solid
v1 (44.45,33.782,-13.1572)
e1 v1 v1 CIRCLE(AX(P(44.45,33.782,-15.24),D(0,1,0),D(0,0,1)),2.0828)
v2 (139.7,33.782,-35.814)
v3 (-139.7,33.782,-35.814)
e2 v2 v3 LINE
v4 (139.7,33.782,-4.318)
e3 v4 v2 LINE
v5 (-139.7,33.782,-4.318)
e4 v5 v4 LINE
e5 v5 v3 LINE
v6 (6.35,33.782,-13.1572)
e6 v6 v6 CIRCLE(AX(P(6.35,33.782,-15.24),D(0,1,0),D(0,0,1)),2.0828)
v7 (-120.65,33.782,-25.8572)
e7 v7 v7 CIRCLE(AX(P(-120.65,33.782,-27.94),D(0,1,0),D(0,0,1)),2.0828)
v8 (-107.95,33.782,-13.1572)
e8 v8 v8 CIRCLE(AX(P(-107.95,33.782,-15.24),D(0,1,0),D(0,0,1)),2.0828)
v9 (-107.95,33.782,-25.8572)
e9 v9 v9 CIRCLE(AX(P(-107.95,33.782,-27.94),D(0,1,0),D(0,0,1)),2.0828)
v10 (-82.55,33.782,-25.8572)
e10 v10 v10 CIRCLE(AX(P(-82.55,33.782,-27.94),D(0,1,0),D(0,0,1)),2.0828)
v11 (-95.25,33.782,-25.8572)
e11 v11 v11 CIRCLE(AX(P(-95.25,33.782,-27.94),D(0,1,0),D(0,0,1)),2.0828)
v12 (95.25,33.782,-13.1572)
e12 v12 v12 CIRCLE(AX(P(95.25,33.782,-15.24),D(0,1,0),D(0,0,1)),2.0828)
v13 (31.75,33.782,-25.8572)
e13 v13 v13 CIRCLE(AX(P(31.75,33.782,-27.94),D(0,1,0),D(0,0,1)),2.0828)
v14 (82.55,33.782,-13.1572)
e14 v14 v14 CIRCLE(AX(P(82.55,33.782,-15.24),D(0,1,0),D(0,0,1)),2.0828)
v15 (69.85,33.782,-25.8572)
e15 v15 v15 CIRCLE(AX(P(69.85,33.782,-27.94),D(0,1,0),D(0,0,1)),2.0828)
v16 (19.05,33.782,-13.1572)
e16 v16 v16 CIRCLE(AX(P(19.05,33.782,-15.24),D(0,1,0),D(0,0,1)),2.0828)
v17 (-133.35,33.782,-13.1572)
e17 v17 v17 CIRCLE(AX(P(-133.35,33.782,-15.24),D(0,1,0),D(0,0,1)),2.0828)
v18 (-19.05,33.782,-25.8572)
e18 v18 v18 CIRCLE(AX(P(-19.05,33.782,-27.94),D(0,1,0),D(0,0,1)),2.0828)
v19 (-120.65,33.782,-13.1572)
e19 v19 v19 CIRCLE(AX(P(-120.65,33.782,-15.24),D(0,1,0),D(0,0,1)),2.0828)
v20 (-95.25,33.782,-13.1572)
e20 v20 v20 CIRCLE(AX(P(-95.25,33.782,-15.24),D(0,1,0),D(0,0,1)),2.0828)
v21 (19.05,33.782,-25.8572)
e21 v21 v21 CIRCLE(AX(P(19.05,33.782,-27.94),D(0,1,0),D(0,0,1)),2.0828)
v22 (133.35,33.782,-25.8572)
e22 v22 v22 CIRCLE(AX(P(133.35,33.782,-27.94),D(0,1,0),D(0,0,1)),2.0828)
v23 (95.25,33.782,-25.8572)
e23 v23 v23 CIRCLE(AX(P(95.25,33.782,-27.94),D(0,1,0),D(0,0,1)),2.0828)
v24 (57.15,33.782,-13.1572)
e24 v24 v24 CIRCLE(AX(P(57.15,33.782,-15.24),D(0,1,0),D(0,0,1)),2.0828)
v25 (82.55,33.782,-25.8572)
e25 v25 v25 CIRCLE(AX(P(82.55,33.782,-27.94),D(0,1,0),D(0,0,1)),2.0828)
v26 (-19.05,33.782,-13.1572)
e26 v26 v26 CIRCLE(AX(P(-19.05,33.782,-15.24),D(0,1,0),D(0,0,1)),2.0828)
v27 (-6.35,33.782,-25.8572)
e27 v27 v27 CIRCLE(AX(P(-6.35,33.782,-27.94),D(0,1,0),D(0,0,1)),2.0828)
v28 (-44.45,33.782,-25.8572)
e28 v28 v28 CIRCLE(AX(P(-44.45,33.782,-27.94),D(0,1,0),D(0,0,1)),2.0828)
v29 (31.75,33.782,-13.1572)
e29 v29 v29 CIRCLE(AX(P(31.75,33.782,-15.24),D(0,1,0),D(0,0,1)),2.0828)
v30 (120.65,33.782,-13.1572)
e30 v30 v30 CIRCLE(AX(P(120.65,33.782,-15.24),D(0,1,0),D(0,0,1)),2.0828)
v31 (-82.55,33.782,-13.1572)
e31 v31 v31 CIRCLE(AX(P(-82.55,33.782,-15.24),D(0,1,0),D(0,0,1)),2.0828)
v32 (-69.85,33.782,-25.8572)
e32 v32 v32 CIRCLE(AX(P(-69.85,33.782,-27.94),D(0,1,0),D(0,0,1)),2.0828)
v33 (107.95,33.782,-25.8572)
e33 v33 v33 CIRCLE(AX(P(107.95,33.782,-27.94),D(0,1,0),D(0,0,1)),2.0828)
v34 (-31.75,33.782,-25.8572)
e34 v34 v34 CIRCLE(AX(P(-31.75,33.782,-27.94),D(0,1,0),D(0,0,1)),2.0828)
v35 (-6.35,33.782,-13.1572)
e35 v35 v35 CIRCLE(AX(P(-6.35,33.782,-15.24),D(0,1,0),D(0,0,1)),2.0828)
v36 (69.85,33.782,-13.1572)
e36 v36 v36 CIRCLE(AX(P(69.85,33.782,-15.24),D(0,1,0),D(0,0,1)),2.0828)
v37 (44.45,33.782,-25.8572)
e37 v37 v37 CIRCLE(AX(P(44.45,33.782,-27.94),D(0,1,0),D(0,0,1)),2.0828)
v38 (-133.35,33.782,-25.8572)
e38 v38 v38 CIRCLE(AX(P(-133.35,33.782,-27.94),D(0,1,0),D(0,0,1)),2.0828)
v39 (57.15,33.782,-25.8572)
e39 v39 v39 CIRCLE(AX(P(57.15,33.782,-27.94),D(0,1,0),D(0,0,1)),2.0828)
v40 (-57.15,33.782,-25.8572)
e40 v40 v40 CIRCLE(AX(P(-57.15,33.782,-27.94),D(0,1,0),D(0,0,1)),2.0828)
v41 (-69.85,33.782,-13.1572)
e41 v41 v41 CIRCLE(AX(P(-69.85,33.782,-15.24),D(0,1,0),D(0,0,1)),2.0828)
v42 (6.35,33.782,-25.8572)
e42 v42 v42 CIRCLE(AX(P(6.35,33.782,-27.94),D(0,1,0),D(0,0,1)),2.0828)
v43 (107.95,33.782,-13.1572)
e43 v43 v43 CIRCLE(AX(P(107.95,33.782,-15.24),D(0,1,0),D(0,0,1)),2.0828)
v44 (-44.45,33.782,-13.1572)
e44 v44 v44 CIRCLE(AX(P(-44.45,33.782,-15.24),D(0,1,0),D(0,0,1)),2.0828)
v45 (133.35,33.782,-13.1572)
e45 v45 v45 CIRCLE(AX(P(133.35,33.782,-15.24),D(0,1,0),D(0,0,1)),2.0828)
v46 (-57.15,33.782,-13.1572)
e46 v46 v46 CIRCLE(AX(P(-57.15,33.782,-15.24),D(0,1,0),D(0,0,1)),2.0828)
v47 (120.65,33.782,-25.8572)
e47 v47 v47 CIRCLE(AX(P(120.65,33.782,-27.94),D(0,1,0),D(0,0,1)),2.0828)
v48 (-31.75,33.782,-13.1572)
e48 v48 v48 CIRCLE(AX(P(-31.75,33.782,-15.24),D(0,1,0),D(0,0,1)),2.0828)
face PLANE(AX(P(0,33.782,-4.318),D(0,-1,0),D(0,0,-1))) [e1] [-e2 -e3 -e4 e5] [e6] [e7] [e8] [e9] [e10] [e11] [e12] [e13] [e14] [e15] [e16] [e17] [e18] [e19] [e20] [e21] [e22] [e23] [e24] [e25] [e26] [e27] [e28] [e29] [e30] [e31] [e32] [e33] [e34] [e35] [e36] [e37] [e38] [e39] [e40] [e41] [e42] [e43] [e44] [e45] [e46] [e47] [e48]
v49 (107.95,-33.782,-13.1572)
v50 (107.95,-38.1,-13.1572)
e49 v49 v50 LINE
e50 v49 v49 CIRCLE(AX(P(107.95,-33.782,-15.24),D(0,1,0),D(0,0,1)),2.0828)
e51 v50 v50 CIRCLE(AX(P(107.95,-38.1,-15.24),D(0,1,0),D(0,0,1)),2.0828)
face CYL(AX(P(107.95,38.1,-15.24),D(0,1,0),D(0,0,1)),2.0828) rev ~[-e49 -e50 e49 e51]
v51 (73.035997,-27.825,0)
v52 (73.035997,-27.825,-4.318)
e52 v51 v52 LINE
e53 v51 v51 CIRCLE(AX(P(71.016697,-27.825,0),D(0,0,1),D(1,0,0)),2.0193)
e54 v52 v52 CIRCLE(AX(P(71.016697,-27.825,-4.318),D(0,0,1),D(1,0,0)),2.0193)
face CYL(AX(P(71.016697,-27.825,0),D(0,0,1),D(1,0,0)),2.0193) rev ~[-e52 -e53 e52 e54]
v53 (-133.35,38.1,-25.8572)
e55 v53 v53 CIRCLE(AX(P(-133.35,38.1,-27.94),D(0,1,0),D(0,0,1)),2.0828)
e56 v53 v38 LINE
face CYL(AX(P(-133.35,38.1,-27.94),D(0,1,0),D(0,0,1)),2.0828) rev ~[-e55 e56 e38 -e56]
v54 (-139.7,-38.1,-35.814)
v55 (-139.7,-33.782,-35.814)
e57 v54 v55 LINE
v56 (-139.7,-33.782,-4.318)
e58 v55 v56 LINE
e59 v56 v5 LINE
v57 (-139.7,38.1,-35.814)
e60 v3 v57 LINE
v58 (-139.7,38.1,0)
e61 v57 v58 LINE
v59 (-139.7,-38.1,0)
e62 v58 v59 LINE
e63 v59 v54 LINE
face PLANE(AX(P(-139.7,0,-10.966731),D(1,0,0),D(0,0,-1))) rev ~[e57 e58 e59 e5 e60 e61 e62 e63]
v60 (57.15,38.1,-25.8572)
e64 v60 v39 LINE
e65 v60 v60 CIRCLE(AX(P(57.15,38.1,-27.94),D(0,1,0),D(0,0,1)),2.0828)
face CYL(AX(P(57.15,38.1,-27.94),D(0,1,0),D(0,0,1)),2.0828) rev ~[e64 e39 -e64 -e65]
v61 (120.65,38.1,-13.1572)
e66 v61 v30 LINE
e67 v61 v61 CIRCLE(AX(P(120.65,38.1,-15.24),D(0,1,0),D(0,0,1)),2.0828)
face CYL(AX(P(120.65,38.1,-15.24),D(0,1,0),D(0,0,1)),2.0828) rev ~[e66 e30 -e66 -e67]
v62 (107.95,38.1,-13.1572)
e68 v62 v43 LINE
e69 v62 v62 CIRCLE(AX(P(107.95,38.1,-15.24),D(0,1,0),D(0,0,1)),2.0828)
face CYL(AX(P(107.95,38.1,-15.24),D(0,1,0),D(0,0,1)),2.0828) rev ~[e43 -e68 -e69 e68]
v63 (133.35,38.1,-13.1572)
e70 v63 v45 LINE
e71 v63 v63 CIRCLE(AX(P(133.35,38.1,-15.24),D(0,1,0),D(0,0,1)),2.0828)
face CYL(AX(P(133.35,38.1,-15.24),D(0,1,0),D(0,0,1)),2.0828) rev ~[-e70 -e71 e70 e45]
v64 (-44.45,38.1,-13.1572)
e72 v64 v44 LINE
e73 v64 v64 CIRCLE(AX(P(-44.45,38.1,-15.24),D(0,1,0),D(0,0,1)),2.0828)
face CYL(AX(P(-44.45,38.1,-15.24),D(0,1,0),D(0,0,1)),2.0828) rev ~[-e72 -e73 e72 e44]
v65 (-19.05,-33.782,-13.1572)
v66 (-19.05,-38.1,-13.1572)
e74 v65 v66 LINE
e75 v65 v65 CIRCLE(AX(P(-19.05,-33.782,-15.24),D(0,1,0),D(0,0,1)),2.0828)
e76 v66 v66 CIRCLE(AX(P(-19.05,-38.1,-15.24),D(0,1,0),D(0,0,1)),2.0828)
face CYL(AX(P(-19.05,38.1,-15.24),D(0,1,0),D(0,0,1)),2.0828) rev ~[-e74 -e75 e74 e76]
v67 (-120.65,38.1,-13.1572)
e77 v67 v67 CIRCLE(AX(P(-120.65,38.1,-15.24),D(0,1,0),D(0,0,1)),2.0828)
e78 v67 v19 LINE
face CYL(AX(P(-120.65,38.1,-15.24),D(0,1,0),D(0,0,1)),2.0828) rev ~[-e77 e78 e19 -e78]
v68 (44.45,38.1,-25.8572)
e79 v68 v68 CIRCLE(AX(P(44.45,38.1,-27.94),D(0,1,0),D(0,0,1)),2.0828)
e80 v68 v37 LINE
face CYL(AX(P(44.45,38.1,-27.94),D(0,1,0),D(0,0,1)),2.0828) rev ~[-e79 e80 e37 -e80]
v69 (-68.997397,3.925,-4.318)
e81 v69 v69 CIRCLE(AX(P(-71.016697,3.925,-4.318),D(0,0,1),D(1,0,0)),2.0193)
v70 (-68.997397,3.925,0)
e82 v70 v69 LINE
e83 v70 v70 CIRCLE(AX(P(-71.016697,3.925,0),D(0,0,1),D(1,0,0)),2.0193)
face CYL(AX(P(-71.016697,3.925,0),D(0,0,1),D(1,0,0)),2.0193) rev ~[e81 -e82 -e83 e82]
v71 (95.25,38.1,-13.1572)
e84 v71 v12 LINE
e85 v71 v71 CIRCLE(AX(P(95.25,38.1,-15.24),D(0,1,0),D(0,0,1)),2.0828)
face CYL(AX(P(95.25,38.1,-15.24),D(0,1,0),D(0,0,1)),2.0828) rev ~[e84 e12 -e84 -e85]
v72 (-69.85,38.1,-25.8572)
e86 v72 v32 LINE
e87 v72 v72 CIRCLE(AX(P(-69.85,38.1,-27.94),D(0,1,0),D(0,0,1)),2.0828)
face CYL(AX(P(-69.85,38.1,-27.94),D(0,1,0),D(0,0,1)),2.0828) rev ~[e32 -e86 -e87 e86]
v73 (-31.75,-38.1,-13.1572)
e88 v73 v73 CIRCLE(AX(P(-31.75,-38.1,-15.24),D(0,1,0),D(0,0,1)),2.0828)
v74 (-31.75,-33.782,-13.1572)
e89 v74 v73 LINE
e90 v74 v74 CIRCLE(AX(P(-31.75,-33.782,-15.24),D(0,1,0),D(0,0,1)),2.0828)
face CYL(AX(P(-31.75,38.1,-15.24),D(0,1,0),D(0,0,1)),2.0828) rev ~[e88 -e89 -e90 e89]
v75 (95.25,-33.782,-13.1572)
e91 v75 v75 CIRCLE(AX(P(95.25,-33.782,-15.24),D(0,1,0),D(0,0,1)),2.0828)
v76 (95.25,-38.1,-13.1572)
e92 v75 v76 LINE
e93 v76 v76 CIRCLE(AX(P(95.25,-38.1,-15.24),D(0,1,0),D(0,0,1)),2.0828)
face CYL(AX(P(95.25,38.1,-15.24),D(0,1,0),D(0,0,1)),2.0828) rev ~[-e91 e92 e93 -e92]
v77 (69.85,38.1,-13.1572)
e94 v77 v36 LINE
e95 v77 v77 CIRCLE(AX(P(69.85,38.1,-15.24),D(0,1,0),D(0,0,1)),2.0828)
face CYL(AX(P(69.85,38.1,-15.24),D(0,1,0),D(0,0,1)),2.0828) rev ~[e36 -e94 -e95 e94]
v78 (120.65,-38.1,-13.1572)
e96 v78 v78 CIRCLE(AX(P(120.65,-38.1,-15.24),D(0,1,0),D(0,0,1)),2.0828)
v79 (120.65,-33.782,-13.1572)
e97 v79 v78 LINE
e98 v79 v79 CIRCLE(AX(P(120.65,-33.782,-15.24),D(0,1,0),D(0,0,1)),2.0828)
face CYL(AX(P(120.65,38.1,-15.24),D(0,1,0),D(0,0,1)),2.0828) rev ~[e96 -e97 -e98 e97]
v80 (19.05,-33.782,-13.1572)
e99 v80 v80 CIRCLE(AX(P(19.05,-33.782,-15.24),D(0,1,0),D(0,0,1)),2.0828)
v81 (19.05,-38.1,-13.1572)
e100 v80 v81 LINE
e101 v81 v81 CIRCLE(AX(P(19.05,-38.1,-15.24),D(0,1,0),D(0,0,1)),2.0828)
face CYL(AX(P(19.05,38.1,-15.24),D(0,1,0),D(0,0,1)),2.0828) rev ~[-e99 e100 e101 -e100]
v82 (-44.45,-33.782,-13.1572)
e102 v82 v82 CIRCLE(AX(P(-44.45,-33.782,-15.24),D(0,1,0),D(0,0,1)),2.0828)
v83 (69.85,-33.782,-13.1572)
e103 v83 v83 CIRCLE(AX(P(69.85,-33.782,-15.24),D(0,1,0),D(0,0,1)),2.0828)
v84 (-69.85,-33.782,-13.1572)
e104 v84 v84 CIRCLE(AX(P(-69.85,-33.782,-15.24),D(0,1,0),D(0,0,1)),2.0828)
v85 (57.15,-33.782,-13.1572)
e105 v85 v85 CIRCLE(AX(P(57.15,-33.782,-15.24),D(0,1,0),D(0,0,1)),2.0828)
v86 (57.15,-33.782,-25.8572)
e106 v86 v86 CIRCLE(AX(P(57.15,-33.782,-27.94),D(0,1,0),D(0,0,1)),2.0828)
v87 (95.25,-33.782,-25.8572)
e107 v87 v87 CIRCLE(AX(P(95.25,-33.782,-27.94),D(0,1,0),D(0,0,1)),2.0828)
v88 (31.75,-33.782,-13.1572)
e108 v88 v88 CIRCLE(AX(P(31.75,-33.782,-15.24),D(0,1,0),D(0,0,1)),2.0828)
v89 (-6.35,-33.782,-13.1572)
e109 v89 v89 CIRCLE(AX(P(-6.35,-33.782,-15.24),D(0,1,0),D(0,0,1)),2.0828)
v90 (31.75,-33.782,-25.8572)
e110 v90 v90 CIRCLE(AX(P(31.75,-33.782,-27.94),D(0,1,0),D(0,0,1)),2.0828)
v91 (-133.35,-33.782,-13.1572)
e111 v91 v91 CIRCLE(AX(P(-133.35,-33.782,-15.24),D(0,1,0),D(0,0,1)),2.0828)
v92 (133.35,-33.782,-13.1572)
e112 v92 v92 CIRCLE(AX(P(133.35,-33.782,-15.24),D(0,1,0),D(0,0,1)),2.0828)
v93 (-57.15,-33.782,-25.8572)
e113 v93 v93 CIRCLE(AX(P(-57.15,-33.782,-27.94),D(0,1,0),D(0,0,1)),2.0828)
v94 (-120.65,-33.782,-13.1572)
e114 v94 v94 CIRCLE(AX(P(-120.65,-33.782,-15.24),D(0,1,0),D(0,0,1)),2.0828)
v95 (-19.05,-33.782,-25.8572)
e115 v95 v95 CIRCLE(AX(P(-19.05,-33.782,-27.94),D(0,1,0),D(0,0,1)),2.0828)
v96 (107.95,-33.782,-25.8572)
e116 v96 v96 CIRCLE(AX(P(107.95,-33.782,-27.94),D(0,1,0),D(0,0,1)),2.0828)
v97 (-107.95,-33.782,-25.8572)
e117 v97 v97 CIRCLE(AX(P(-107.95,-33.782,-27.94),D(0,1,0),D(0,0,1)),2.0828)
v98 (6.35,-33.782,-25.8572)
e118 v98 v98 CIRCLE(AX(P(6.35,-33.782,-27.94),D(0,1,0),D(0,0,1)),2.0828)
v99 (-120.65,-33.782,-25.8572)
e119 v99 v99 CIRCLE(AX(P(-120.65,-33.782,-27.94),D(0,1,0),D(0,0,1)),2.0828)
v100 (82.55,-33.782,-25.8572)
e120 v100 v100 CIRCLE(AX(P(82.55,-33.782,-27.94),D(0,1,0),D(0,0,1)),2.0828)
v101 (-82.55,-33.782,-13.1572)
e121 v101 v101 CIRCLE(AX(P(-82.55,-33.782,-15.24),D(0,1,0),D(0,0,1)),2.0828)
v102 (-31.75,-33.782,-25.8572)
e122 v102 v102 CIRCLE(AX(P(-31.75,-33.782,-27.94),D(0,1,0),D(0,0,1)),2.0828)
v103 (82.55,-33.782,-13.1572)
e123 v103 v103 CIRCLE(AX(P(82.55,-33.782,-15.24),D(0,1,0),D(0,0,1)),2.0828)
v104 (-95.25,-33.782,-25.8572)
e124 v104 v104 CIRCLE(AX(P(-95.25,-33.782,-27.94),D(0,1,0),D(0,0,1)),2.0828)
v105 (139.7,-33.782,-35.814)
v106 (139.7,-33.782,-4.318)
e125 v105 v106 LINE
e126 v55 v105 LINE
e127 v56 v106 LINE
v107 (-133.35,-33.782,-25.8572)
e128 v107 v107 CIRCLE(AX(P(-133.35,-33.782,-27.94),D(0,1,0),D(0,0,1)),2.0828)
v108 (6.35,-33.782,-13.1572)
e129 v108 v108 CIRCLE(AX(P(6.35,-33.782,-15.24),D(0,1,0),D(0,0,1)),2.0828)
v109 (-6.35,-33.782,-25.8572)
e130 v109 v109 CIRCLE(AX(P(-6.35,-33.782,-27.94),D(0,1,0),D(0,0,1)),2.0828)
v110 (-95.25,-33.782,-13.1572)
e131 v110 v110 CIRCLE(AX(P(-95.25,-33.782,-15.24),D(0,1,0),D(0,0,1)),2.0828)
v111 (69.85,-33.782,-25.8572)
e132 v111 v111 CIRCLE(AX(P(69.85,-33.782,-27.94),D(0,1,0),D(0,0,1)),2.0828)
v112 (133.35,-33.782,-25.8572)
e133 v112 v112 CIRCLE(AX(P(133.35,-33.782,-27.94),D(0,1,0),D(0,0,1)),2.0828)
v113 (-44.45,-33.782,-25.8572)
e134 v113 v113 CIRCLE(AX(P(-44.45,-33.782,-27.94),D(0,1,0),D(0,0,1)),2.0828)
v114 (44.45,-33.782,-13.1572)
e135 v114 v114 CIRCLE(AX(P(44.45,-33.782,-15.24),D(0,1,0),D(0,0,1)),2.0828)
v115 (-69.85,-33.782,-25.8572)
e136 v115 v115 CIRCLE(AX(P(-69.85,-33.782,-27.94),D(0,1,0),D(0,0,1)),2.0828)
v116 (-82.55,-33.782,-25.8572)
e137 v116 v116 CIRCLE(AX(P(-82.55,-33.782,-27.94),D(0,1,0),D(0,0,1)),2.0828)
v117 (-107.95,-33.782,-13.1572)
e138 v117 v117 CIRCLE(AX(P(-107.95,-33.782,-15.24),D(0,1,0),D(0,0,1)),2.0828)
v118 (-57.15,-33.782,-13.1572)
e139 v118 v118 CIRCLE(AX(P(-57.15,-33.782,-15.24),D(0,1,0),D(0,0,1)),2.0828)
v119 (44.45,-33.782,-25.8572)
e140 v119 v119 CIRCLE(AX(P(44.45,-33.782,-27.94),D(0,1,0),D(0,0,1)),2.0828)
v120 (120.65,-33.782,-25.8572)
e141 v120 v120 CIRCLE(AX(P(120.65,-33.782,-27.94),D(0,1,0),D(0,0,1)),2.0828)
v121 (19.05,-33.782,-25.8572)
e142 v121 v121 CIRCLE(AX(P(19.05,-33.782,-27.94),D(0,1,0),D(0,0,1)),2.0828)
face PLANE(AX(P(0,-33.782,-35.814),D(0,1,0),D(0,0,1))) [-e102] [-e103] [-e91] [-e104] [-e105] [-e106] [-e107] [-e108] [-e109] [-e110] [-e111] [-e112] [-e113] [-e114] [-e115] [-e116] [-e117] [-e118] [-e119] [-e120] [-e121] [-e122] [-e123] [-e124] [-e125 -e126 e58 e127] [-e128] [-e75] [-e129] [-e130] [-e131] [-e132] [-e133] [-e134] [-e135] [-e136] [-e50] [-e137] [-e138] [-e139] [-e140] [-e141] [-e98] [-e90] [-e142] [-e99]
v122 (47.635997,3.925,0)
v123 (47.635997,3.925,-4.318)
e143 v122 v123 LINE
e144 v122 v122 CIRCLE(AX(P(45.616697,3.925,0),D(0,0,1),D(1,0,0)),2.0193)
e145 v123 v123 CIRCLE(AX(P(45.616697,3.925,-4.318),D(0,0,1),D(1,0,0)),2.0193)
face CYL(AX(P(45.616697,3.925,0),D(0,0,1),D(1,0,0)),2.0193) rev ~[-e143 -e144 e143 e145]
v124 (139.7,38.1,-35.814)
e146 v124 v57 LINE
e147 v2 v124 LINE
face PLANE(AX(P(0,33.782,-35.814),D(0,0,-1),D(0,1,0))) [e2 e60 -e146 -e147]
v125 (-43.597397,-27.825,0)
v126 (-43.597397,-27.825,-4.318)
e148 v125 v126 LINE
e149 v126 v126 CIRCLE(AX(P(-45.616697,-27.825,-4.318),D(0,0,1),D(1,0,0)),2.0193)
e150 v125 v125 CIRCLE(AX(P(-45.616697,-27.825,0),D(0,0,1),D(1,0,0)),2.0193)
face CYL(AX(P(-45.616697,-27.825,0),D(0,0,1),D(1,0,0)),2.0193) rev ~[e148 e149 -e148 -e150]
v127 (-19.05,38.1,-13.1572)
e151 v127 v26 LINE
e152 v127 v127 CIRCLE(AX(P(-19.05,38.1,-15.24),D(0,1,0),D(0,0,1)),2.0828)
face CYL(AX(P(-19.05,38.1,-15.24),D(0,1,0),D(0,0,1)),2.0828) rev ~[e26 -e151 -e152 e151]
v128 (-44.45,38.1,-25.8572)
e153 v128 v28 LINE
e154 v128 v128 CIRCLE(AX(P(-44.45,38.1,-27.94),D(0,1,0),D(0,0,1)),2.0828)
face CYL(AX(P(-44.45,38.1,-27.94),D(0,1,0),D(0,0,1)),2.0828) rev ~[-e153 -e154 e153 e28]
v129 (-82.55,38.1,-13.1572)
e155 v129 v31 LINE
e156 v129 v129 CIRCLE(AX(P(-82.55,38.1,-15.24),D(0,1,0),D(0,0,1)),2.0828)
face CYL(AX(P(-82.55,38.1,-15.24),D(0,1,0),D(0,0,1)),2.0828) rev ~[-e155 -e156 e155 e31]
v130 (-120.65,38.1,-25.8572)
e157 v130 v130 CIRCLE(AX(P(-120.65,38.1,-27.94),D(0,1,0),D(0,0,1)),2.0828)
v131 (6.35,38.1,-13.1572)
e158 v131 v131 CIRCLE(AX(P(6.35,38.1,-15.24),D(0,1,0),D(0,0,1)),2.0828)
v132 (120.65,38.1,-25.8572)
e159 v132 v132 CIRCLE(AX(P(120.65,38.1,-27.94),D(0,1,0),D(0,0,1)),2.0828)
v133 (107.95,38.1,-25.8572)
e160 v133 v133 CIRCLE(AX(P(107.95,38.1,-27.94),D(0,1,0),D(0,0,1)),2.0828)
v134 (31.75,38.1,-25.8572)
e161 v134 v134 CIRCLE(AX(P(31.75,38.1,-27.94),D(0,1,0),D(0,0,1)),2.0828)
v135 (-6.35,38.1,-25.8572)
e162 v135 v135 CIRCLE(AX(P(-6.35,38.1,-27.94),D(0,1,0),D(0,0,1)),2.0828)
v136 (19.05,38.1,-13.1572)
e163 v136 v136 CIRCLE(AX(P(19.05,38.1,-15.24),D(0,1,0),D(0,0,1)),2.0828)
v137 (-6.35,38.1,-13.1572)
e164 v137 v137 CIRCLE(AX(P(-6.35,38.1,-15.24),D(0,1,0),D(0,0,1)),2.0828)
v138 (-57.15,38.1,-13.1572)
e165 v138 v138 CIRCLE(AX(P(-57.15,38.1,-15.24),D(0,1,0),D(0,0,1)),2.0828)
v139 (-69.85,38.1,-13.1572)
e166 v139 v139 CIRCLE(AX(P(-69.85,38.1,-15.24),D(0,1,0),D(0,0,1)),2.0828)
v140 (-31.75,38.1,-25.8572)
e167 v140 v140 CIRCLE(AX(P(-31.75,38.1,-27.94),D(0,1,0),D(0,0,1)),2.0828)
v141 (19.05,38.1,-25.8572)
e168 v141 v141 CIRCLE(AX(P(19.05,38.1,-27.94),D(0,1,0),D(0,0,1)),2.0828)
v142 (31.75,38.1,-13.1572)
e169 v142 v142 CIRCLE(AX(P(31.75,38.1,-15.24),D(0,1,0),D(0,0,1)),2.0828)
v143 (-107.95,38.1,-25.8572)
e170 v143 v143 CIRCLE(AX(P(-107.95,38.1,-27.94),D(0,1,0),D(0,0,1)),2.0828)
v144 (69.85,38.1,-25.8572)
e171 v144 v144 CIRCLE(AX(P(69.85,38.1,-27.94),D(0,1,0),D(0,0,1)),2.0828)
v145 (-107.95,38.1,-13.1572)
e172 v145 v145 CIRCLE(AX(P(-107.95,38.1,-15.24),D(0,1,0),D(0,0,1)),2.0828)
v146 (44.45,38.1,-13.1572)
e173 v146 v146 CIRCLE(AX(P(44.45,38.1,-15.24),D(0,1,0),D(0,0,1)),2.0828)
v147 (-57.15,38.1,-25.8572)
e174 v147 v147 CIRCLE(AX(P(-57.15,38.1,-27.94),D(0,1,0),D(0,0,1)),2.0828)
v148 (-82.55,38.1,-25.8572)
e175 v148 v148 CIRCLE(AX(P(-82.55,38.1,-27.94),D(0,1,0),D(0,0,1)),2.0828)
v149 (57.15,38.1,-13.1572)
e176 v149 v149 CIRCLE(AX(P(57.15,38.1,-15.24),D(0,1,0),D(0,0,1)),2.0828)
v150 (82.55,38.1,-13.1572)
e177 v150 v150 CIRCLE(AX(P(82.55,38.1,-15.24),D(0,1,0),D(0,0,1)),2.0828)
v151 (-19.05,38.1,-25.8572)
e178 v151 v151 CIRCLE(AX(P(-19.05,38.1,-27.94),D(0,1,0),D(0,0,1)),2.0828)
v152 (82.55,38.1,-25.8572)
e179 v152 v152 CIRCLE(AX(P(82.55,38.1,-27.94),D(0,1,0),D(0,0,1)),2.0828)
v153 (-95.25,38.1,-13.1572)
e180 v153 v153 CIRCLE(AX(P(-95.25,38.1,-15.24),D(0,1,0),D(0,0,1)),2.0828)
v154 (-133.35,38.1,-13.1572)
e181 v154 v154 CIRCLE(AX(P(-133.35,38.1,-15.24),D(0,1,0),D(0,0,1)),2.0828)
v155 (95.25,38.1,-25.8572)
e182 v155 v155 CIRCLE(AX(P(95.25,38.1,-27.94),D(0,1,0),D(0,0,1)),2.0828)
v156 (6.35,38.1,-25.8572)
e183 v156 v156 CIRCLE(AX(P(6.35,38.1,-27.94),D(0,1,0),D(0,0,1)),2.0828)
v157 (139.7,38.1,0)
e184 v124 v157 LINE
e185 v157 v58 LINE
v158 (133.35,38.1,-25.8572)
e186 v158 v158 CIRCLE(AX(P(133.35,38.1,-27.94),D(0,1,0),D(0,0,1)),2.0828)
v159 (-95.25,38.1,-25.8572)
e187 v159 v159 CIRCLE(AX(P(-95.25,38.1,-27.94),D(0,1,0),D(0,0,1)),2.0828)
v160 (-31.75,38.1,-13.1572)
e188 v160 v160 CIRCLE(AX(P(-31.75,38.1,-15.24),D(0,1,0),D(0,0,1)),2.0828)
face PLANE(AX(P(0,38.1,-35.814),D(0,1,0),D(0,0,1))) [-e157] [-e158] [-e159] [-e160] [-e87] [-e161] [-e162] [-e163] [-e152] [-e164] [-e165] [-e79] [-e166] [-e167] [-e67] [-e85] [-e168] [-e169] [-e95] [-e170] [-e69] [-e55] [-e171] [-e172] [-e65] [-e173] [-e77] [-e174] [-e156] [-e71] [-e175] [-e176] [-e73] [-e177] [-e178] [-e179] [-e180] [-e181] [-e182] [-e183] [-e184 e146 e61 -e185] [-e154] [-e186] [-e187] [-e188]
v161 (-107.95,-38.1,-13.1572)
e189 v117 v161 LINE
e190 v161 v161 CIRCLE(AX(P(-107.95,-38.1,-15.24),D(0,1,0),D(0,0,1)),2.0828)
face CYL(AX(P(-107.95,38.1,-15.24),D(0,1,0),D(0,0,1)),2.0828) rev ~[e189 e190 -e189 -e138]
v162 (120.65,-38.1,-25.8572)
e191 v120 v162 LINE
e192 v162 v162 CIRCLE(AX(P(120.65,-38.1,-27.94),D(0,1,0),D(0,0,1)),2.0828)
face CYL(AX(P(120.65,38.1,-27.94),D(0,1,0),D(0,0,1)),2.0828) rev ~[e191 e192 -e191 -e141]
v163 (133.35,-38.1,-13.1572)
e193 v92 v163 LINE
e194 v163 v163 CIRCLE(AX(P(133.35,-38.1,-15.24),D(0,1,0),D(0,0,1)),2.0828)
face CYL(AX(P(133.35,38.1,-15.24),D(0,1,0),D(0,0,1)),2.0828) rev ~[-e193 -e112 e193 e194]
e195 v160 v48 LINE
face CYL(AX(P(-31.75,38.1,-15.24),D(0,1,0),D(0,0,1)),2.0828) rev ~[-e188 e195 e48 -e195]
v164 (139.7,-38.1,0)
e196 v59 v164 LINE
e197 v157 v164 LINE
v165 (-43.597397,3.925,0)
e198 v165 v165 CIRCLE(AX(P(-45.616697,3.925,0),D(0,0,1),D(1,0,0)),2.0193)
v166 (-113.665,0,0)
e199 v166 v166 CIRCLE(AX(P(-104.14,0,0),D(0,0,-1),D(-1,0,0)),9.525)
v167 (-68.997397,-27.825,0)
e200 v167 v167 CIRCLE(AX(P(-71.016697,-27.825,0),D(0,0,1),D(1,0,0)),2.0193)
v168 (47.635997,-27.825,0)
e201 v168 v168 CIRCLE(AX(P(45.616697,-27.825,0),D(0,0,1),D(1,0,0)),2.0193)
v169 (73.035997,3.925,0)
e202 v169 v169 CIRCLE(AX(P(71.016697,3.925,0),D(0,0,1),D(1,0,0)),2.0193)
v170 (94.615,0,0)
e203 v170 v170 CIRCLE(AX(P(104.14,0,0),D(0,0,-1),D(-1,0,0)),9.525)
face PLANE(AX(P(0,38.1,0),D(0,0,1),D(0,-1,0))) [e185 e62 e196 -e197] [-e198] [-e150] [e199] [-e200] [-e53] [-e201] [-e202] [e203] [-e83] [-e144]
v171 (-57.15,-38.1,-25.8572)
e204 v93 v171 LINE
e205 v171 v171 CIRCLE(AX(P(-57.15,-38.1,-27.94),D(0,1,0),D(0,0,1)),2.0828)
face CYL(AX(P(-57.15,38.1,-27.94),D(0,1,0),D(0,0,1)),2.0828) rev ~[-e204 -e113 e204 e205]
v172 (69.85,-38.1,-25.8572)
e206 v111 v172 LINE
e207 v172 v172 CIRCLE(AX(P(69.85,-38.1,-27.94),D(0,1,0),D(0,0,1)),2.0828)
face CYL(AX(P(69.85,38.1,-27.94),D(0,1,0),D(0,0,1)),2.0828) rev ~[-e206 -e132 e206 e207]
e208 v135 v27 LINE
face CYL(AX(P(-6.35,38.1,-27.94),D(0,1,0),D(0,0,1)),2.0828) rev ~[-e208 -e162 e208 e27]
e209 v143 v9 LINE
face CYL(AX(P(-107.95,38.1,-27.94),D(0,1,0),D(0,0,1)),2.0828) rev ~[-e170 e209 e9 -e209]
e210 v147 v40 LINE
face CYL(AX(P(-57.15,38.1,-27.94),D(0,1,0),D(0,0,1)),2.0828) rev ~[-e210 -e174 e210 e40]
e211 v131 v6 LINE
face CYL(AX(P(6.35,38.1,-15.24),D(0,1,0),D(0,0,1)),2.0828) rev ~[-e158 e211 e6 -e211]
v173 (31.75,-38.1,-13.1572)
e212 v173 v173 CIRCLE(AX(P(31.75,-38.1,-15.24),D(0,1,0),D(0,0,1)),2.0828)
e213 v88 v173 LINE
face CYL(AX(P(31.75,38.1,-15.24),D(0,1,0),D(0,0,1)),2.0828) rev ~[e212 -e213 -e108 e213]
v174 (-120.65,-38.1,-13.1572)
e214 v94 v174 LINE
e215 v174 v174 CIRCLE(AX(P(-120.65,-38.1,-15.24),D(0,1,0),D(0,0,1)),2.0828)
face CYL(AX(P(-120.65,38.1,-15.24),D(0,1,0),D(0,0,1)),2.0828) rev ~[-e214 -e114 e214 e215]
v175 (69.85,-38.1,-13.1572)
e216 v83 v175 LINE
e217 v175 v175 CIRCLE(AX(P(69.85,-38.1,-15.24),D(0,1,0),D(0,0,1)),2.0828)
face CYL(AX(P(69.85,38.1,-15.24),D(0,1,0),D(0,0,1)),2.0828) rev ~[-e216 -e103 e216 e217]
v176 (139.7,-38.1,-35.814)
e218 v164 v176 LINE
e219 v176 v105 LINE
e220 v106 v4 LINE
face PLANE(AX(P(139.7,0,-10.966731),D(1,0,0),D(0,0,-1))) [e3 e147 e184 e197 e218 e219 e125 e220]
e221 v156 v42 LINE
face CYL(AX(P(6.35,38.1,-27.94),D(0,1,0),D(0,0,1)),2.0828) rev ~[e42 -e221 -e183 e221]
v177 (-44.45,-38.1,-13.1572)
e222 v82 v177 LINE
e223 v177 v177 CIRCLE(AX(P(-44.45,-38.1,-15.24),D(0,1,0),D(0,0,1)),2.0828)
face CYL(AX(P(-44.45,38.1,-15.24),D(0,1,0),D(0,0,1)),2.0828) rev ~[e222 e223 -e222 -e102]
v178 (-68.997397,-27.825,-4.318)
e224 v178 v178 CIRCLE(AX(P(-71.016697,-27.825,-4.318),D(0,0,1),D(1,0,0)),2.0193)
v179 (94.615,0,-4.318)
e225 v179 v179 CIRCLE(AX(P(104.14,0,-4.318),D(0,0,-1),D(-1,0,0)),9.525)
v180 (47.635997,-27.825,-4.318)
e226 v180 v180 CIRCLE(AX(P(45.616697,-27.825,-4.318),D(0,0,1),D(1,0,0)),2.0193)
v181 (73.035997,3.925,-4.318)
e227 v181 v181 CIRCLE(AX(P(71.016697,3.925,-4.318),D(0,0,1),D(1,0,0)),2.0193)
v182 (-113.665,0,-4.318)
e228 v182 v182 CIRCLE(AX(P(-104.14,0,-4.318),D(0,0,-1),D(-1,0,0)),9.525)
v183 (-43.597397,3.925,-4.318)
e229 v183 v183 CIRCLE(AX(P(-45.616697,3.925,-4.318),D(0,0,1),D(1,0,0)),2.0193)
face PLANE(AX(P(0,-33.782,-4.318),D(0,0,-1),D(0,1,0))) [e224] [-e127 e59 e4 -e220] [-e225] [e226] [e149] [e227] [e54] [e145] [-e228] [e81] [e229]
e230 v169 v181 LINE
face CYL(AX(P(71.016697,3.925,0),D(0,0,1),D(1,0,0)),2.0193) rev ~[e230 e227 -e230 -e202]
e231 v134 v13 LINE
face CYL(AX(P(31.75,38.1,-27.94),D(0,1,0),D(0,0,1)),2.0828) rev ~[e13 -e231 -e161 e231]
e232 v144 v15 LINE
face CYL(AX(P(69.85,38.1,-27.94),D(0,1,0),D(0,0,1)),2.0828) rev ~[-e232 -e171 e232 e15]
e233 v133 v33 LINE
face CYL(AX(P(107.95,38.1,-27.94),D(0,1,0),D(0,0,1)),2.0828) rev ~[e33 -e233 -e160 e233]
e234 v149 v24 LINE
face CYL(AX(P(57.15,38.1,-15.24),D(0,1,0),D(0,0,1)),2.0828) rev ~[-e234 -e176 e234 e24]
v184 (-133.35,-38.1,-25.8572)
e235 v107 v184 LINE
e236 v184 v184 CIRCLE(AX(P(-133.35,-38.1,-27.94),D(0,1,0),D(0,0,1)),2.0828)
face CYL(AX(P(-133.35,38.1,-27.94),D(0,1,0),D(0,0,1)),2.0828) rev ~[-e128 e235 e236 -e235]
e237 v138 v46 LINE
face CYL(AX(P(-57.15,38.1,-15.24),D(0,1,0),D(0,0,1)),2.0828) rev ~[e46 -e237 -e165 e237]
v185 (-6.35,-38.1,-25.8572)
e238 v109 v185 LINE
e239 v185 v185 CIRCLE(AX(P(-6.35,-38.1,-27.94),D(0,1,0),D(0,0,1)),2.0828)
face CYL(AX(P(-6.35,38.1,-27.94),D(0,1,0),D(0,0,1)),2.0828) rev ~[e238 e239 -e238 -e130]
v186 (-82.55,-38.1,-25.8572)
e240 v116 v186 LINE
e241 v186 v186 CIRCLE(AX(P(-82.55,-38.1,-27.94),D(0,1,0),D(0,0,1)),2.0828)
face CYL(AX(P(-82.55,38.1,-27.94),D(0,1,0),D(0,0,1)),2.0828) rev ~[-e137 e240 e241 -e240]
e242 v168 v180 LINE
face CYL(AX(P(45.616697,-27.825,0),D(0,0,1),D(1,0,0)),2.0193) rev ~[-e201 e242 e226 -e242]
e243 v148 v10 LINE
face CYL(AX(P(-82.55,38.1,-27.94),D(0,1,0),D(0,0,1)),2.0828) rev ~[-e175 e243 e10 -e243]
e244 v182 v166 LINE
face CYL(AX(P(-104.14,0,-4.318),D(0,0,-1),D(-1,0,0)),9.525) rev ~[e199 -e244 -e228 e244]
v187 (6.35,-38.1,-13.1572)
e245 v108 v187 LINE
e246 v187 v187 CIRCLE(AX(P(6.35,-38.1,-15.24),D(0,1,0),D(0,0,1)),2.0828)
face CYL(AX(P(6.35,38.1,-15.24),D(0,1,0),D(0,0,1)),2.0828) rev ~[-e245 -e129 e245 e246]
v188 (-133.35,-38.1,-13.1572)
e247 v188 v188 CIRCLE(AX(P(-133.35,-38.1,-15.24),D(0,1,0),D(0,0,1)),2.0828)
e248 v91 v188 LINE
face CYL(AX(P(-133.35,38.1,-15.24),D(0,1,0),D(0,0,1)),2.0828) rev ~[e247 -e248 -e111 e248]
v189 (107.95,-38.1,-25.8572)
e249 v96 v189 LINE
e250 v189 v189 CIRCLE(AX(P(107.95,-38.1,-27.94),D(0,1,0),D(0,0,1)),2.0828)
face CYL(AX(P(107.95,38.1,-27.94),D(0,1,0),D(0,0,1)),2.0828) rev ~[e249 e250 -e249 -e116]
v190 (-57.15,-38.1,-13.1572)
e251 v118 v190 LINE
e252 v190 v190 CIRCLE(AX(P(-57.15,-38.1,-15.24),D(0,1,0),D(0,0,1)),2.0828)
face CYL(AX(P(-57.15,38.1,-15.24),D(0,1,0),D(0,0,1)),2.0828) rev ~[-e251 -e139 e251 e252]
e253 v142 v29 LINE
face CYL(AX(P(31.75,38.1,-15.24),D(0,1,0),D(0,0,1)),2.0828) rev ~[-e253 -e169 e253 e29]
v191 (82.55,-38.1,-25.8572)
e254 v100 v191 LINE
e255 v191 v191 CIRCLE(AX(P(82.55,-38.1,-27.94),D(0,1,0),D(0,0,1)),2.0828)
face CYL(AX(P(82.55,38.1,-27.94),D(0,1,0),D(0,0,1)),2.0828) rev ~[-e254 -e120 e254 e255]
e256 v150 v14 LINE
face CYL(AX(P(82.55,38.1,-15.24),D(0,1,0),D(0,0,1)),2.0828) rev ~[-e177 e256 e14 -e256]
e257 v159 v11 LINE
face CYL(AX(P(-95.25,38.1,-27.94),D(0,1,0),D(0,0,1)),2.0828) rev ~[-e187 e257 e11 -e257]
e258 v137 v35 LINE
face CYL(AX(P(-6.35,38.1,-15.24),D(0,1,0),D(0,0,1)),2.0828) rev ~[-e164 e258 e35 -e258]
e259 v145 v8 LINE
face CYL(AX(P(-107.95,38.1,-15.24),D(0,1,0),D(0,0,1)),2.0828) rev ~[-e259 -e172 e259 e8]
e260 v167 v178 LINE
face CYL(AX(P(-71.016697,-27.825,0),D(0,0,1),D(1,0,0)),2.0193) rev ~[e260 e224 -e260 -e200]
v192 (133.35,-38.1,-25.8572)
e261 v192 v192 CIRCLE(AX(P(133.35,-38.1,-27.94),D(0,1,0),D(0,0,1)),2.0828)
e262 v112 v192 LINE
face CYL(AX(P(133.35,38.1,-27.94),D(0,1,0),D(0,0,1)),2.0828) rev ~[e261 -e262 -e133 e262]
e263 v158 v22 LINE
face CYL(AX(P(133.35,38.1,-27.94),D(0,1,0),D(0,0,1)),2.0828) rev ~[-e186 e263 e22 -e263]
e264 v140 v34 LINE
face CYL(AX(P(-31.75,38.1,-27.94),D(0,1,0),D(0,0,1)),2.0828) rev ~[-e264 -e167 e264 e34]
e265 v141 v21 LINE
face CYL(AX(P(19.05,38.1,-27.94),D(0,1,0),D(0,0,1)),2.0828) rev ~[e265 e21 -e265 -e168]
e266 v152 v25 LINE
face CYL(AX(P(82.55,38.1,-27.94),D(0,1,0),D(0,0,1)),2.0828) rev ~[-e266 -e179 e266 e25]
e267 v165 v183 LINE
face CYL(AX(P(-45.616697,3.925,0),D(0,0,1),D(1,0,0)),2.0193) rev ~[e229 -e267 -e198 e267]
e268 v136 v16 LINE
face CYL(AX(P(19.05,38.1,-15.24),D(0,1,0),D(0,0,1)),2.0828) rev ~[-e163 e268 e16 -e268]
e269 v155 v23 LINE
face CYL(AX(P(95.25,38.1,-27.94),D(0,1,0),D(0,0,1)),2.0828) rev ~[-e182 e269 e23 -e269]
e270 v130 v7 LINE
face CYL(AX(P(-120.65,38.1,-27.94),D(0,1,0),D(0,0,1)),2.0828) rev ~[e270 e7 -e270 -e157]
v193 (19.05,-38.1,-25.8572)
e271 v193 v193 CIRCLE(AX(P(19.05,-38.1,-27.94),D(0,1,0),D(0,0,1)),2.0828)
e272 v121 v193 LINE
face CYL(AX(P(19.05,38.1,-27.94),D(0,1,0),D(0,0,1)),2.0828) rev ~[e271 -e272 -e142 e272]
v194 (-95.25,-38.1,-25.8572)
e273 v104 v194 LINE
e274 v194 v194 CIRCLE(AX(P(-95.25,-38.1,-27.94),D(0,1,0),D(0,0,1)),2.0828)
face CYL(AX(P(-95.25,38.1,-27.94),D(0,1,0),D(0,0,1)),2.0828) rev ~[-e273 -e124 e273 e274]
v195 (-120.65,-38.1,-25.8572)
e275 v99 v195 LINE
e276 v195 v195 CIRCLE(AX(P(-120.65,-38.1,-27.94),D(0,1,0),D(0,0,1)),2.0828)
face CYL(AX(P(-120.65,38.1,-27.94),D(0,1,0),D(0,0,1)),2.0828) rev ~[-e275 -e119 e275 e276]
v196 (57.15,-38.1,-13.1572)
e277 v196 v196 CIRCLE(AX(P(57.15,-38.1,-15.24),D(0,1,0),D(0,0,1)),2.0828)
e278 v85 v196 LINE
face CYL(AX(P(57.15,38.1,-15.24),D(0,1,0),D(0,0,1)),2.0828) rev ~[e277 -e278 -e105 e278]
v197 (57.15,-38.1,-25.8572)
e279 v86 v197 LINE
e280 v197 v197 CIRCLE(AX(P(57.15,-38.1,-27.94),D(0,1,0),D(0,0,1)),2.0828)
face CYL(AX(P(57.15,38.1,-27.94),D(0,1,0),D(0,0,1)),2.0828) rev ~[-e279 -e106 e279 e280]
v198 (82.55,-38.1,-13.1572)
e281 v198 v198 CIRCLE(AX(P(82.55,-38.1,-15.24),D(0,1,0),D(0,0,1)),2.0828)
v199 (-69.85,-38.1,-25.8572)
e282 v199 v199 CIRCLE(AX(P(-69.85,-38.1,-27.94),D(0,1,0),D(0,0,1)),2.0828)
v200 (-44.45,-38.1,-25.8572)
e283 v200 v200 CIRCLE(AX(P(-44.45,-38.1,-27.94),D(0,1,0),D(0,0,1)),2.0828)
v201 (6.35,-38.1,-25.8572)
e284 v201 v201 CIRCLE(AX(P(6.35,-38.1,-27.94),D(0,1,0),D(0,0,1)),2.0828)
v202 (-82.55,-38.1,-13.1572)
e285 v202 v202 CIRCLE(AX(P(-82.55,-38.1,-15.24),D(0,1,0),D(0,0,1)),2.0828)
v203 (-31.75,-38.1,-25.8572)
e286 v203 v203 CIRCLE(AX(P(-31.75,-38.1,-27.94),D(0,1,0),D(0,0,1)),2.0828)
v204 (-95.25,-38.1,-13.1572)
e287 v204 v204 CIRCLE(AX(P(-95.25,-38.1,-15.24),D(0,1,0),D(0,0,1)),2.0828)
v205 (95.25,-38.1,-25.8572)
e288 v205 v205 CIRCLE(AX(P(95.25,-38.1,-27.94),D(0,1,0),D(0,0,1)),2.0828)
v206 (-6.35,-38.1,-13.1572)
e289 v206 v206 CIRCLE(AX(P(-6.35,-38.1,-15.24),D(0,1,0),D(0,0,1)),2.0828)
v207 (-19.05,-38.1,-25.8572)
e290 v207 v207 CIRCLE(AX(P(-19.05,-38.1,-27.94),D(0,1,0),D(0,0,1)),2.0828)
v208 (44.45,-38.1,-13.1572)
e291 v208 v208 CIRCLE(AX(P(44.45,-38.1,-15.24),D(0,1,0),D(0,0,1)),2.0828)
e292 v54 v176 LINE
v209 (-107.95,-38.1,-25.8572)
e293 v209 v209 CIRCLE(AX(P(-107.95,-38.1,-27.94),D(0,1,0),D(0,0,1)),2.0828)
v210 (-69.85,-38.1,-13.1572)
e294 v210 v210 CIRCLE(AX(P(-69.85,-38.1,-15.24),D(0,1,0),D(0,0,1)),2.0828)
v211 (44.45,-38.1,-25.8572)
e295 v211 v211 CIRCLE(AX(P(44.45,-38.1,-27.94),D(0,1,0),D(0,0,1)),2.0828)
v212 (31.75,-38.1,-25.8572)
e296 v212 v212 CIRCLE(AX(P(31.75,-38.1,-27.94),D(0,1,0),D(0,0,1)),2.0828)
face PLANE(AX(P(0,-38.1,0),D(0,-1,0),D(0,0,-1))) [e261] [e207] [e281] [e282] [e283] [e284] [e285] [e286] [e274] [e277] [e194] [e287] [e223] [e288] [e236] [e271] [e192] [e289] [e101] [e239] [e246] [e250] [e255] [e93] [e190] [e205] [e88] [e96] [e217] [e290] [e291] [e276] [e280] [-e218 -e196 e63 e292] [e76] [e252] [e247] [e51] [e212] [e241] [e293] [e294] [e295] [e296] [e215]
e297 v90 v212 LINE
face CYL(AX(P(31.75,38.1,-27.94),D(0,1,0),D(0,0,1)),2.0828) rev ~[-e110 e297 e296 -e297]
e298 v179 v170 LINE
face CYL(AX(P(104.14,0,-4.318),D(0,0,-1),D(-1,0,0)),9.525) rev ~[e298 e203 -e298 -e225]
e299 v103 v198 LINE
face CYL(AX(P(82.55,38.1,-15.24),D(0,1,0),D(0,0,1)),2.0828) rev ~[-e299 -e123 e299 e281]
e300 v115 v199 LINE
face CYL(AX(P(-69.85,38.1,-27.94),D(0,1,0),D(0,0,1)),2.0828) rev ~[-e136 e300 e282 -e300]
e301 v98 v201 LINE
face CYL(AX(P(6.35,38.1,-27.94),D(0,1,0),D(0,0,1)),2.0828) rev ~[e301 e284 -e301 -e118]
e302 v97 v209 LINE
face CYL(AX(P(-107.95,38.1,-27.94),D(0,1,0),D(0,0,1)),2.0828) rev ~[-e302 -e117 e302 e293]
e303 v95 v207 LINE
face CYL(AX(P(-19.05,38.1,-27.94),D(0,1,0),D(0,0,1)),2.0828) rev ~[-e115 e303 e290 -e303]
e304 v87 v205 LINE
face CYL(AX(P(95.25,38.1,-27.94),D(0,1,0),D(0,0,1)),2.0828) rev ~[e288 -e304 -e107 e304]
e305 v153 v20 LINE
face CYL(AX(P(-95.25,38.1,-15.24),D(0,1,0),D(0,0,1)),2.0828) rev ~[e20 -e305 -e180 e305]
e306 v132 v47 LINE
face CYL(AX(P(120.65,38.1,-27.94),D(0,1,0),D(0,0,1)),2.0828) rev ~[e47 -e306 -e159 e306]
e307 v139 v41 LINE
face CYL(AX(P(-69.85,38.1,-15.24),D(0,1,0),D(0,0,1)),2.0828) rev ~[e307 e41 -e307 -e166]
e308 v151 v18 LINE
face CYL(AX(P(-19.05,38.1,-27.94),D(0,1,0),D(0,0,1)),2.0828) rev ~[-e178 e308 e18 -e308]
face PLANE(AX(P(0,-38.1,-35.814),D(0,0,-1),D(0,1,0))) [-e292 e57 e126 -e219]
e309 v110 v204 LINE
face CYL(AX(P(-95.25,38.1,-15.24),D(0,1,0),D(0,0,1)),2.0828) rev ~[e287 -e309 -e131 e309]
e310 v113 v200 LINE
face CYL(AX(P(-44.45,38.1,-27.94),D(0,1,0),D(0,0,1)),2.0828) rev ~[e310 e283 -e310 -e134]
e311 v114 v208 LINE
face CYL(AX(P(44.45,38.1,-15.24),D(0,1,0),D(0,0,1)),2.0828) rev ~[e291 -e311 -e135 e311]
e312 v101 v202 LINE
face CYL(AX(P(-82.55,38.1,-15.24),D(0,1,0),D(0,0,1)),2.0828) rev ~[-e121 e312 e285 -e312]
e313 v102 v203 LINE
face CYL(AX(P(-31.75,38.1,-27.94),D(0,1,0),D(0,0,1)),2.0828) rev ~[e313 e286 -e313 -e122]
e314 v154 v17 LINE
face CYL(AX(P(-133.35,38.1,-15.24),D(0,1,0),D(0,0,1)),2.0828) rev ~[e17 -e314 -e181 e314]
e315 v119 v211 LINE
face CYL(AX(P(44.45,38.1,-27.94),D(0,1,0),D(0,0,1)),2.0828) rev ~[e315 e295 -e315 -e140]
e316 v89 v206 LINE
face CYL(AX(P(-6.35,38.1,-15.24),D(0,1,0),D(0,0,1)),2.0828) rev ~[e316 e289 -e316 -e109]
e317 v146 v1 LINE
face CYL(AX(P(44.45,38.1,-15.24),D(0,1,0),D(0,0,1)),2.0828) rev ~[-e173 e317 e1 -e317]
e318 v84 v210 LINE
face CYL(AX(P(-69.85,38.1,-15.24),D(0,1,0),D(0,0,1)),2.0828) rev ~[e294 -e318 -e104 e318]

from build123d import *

# Parameters (mm, degrees)
BOSS_EXTRUDE1_DEPTH = 139.7
SKETCH2_R           = 2.0828
CUT_EXTRUDE1_DEPTH  = 164.110921143
CUT_EXTRUDE3_REACH  = 151.165
SKETCH4_R           = 2.0193
SKETCH5_R           = 9.525
CUT_EXTRUDE4_DEPTH  = 149.188049505


with BuildPart() as part:
    # Sketch1 → Boss-Extrude1 (new, symmetric)
    with BuildSketch(Plane(origin=(0, 0, 0), x_dir=(0, 0, -1), z_dir=(1, 0, 0))):
        Polygon((0, 38.1), (0, -38.1), (35.814, -38.1), (35.814, -33.782), (4.318, -33.782), (4.318, 33.782), (35.814, 33.782), (35.814, 38.1), align=None)
    extrude(amount=BOSS_EXTRUDE1_DEPTH, both=True)

    # Sketch2 → Cut-Extrude1 (cut, through all)
    with BuildSketch(Plane(origin=(0, 38.1, 0), x_dir=(1, 0, 0), z_dir=(0, 1, 0))):
        with Locations(Location((-133.35, 27.94, 0), (0, 0, 270))):
            Circle(SKETCH2_R)
        with Locations(Location((-133.35, 15.24, 0), (0, 0, 270))):
            Circle(SKETCH2_R)
        with Locations(Location((-120.65, 27.94, 0), (0, 0, 270))):
            Circle(SKETCH2_R)
        with Locations(Location((-120.65, 15.24, 0), (0, 0, 270))):
            Circle(SKETCH2_R)
        with Locations(Location((-107.95, 27.94, 0), (0, 0, 270))):
            Circle(SKETCH2_R)
        with Locations(Location((-107.95, 15.24, 0), (0, 0, 270))):
            Circle(SKETCH2_R)
        with Locations(Location((-95.25, 27.94, 0), (0, 0, 270))):
            Circle(SKETCH2_R)
        with Locations(Location((-95.25, 15.24, 0), (0, 0, 270))):
            Circle(SKETCH2_R)
        with Locations(Location((-82.55, 27.94, 0), (0, 0, 270))):
            Circle(SKETCH2_R)
        with Locations(Location((-82.55, 15.24, 0), (0, 0, 270))):
            Circle(SKETCH2_R)
        with Locations(Location((-69.85, 27.94, 0), (0, 0, 270))):
            Circle(SKETCH2_R)
        with Locations(Location((-69.85, 15.24, 0), (0, 0, 270))):
            Circle(SKETCH2_R)
        with Locations(Location((-57.15, 27.94, 0), (0, 0, 270))):
            Circle(SKETCH2_R)
        with Locations(Location((-57.15, 15.24, 0), (0, 0, 270))):
            Circle(SKETCH2_R)
        with Locations(Location((-44.45, 27.94, 0), (0, 0, 270))):
            Circle(SKETCH2_R)
        with Locations(Location((-44.45, 15.24, 0), (0, 0, 270))):
            Circle(SKETCH2_R)
        with Locations(Location((-31.75, 27.94, 0), (0, 0, 270))):
            Circle(SKETCH2_R)
        with Locations(Location((-31.75, 15.24, 0), (0, 0, 270))):
            Circle(SKETCH2_R)
        with Locations(Location((-19.05, 27.94, 0), (0, 0, 270))):
            Circle(SKETCH2_R)
        with Locations(Location((-19.05, 15.24, 0), (0, 0, 270))):
            Circle(SKETCH2_R)
        with Locations(Location((-6.35, 27.94, 0), (0, 0, 270))):
            Circle(SKETCH2_R)
        with Locations(Location((-6.35, 15.24, 0), (0, 0, 270))):
            Circle(SKETCH2_R)
        with Locations(Location((6.35, 27.94, 0), (0, 0, 270))):
            Circle(SKETCH2_R)
        with Locations(Location((6.35, 15.24, 0), (0, 0, 270))):
            Circle(SKETCH2_R)
        with Locations(Location((19.05, 27.94, 0), (0, 0, 270))):
            Circle(SKETCH2_R)
        with Locations(Location((19.05, 15.24, 0), (0, 0, 270))):
            Circle(SKETCH2_R)
        with Locations(Location((31.75, 27.94, 0), (0, 0, 270))):
            Circle(SKETCH2_R)
        with Locations(Location((31.75, 15.24, 0), (0, 0, 270))):
            Circle(SKETCH2_R)
        with Locations(Location((44.45, 27.94, 0), (0, 0, 270))):
            Circle(SKETCH2_R)
        with Locations(Location((44.45, 15.24, 0), (0, 0, 270))):
            Circle(SKETCH2_R)
        with Locations(Location((57.15, 27.94, 0), (0, 0, 270))):
            Circle(SKETCH2_R)
        with Locations(Location((57.15, 15.24, 0), (0, 0, 270))):
            Circle(SKETCH2_R)
        with Locations(Location((69.85, 27.94, 0), (0, 0, 270))):
            Circle(SKETCH2_R)
        with Locations(Location((69.85, 15.24, 0), (0, 0, 270))):
            Circle(SKETCH2_R)
        with Locations(Location((82.55, 27.94, 0), (0, 0, 270))):
            Circle(SKETCH2_R)
        with Locations(Location((82.55, 15.24, 0), (0, 0, 270))):
            Circle(SKETCH2_R)
        with Locations(Location((95.25, 27.94, 0), (0, 0, 270))):
            Circle(SKETCH2_R)
        with Locations(Location((95.25, 15.24, 0), (0, 0, 270))):
            Circle(SKETCH2_R)
        with Locations(Location((107.95, 27.94, 0), (0, 0, 270))):
            Circle(SKETCH2_R)
        with Locations(Location((107.95, 15.24, 0), (0, 0, 270))):
            Circle(SKETCH2_R)
        with Locations(Location((120.65, 27.94, 0), (0, 0, 270))):
            Circle(SKETCH2_R)
        with Locations(Location((120.65, 15.24, 0), (0, 0, 270))):
            Circle(SKETCH2_R)
        with Locations(Location((133.35, 27.94, 0), (0, 0, 270))):
            Circle(SKETCH2_R)
        with Locations(Location((133.35, 15.24, 0), (0, 0, 270))):
            Circle(SKETCH2_R)
    extrude(amount=-CUT_EXTRUDE1_DEPTH, mode=Mode.SUBTRACT)

    # Sketch4 → Cut-Extrude3 (cut, up to next)
    with BuildSketch(Plane.XY, mode=Mode.PRIVATE) as cut_extrude3_sk1:
        with Locations((-71.016697469, 3.925)):
            Circle(SKETCH4_R)
    cut_extrude3_tool1 = extrude(cut_extrude3_sk1.sketch, amount=-CUT_EXTRUDE3_REACH, mode=Mode.PRIVATE) & part.part
    # Sketch4 → Cut-Extrude3 (cut, up to next)
    with BuildSketch(Plane.XY, mode=Mode.PRIVATE) as cut_extrude3_sk2:
        with Locations((-45.616697469, -27.825)):
            Circle(SKETCH4_R)
    cut_extrude3_tool2 = extrude(cut_extrude3_sk2.sketch, amount=-CUT_EXTRUDE3_REACH, mode=Mode.PRIVATE) & part.part
    # Sketch4 → Cut-Extrude3 (cut, up to next)
    with BuildSketch(Plane.XY, mode=Mode.PRIVATE) as cut_extrude3_sk3:
        with Locations((-45.616697469, 3.925)):
            Circle(SKETCH4_R)
    cut_extrude3_tool3 = extrude(cut_extrude3_sk3.sketch, amount=-CUT_EXTRUDE3_REACH, mode=Mode.PRIVATE) & part.part
    # Sketch4 → Cut-Extrude3 (cut, up to next)
    with BuildSketch(Plane.XY, mode=Mode.PRIVATE) as cut_extrude3_sk4:
        with Locations((-71.016697469, -27.825)):
            Circle(SKETCH4_R)
    cut_extrude3_tool4 = extrude(cut_extrude3_sk4.sketch, amount=-CUT_EXTRUDE3_REACH, mode=Mode.PRIVATE) & part.part
    # Sketch4 → Cut-Extrude3 (cut, up to next)
    with BuildSketch(Plane.XY, mode=Mode.PRIVATE) as cut_extrude3_sk5:
        with Locations((45.616697469, -27.825)):
            Circle(SKETCH4_R)
    cut_extrude3_tool5 = extrude(cut_extrude3_sk5.sketch, amount=-CUT_EXTRUDE3_REACH, mode=Mode.PRIVATE) & part.part
    # Sketch4 → Cut-Extrude3 (cut, up to next)
    with BuildSketch(Plane.XY, mode=Mode.PRIVATE) as cut_extrude3_sk6:
        with Locations((71.016697469, -27.825)):
            Circle(SKETCH4_R)
    cut_extrude3_tool6 = extrude(cut_extrude3_sk6.sketch, amount=-CUT_EXTRUDE3_REACH, mode=Mode.PRIVATE) & part.part
    # Sketch4 → Cut-Extrude3 (cut, up to next)
    with BuildSketch(Plane.XY, mode=Mode.PRIVATE) as cut_extrude3_sk7:
        with Locations((71.016697469, 3.925)):
            Circle(SKETCH4_R)
    cut_extrude3_tool7 = extrude(cut_extrude3_sk7.sketch, amount=-CUT_EXTRUDE3_REACH, mode=Mode.PRIVATE) & part.part
    # Sketch4 → Cut-Extrude3 (cut, up to next)
    with BuildSketch(Plane.XY, mode=Mode.PRIVATE) as cut_extrude3_sk8:
        with Locations((45.616697469, 3.925)):
            Circle(SKETCH4_R)
    cut_extrude3_tool8 = extrude(cut_extrude3_sk8.sketch, amount=-CUT_EXTRUDE3_REACH, mode=Mode.PRIVATE) & part.part
    add(cut_extrude3_tool1.solids().sort_by_distance((-71.016697, 3.925, 0))[0], mode=Mode.SUBTRACT)
    add(cut_extrude3_tool2.solids().sort_by_distance((-45.616697, -27.825, 0))[0], mode=Mode.SUBTRACT)
    add(cut_extrude3_tool3.solids().sort_by_distance((-45.616697, 3.925, 0))[0], mode=Mode.SUBTRACT)
    add(cut_extrude3_tool4.solids().sort_by_distance((-71.016697, -27.825, 0))[0], mode=Mode.SUBTRACT)
    add(cut_extrude3_tool5.solids().sort_by_distance((45.616697, -27.825, 0))[0], mode=Mode.SUBTRACT)
    add(cut_extrude3_tool6.solids().sort_by_distance((71.016697, -27.825, 0))[0], mode=Mode.SUBTRACT)
    add(cut_extrude3_tool7.solids().sort_by_distance((71.016697, 3.925, 0))[0], mode=Mode.SUBTRACT)
    add(cut_extrude3_tool8.solids().sort_by_distance((45.616697, 3.925, 0))[0], mode=Mode.SUBTRACT)

    # Sketch5 → Cut-Extrude4 (cut, through all)
    with BuildSketch(Plane(origin=(0, 0, -4.318), x_dir=(-1, 0, 0), z_dir=(0, 0, -1))):
        with Locations((104.14, 0)):
            Circle(SKETCH5_R)
        with Locations((-104.14, 0)):
            Circle(SKETCH5_R)
    extrude(amount=-CUT_EXTRUDE4_DEPTH, mode=Mode.SUBTRACT)


solid = part.part
